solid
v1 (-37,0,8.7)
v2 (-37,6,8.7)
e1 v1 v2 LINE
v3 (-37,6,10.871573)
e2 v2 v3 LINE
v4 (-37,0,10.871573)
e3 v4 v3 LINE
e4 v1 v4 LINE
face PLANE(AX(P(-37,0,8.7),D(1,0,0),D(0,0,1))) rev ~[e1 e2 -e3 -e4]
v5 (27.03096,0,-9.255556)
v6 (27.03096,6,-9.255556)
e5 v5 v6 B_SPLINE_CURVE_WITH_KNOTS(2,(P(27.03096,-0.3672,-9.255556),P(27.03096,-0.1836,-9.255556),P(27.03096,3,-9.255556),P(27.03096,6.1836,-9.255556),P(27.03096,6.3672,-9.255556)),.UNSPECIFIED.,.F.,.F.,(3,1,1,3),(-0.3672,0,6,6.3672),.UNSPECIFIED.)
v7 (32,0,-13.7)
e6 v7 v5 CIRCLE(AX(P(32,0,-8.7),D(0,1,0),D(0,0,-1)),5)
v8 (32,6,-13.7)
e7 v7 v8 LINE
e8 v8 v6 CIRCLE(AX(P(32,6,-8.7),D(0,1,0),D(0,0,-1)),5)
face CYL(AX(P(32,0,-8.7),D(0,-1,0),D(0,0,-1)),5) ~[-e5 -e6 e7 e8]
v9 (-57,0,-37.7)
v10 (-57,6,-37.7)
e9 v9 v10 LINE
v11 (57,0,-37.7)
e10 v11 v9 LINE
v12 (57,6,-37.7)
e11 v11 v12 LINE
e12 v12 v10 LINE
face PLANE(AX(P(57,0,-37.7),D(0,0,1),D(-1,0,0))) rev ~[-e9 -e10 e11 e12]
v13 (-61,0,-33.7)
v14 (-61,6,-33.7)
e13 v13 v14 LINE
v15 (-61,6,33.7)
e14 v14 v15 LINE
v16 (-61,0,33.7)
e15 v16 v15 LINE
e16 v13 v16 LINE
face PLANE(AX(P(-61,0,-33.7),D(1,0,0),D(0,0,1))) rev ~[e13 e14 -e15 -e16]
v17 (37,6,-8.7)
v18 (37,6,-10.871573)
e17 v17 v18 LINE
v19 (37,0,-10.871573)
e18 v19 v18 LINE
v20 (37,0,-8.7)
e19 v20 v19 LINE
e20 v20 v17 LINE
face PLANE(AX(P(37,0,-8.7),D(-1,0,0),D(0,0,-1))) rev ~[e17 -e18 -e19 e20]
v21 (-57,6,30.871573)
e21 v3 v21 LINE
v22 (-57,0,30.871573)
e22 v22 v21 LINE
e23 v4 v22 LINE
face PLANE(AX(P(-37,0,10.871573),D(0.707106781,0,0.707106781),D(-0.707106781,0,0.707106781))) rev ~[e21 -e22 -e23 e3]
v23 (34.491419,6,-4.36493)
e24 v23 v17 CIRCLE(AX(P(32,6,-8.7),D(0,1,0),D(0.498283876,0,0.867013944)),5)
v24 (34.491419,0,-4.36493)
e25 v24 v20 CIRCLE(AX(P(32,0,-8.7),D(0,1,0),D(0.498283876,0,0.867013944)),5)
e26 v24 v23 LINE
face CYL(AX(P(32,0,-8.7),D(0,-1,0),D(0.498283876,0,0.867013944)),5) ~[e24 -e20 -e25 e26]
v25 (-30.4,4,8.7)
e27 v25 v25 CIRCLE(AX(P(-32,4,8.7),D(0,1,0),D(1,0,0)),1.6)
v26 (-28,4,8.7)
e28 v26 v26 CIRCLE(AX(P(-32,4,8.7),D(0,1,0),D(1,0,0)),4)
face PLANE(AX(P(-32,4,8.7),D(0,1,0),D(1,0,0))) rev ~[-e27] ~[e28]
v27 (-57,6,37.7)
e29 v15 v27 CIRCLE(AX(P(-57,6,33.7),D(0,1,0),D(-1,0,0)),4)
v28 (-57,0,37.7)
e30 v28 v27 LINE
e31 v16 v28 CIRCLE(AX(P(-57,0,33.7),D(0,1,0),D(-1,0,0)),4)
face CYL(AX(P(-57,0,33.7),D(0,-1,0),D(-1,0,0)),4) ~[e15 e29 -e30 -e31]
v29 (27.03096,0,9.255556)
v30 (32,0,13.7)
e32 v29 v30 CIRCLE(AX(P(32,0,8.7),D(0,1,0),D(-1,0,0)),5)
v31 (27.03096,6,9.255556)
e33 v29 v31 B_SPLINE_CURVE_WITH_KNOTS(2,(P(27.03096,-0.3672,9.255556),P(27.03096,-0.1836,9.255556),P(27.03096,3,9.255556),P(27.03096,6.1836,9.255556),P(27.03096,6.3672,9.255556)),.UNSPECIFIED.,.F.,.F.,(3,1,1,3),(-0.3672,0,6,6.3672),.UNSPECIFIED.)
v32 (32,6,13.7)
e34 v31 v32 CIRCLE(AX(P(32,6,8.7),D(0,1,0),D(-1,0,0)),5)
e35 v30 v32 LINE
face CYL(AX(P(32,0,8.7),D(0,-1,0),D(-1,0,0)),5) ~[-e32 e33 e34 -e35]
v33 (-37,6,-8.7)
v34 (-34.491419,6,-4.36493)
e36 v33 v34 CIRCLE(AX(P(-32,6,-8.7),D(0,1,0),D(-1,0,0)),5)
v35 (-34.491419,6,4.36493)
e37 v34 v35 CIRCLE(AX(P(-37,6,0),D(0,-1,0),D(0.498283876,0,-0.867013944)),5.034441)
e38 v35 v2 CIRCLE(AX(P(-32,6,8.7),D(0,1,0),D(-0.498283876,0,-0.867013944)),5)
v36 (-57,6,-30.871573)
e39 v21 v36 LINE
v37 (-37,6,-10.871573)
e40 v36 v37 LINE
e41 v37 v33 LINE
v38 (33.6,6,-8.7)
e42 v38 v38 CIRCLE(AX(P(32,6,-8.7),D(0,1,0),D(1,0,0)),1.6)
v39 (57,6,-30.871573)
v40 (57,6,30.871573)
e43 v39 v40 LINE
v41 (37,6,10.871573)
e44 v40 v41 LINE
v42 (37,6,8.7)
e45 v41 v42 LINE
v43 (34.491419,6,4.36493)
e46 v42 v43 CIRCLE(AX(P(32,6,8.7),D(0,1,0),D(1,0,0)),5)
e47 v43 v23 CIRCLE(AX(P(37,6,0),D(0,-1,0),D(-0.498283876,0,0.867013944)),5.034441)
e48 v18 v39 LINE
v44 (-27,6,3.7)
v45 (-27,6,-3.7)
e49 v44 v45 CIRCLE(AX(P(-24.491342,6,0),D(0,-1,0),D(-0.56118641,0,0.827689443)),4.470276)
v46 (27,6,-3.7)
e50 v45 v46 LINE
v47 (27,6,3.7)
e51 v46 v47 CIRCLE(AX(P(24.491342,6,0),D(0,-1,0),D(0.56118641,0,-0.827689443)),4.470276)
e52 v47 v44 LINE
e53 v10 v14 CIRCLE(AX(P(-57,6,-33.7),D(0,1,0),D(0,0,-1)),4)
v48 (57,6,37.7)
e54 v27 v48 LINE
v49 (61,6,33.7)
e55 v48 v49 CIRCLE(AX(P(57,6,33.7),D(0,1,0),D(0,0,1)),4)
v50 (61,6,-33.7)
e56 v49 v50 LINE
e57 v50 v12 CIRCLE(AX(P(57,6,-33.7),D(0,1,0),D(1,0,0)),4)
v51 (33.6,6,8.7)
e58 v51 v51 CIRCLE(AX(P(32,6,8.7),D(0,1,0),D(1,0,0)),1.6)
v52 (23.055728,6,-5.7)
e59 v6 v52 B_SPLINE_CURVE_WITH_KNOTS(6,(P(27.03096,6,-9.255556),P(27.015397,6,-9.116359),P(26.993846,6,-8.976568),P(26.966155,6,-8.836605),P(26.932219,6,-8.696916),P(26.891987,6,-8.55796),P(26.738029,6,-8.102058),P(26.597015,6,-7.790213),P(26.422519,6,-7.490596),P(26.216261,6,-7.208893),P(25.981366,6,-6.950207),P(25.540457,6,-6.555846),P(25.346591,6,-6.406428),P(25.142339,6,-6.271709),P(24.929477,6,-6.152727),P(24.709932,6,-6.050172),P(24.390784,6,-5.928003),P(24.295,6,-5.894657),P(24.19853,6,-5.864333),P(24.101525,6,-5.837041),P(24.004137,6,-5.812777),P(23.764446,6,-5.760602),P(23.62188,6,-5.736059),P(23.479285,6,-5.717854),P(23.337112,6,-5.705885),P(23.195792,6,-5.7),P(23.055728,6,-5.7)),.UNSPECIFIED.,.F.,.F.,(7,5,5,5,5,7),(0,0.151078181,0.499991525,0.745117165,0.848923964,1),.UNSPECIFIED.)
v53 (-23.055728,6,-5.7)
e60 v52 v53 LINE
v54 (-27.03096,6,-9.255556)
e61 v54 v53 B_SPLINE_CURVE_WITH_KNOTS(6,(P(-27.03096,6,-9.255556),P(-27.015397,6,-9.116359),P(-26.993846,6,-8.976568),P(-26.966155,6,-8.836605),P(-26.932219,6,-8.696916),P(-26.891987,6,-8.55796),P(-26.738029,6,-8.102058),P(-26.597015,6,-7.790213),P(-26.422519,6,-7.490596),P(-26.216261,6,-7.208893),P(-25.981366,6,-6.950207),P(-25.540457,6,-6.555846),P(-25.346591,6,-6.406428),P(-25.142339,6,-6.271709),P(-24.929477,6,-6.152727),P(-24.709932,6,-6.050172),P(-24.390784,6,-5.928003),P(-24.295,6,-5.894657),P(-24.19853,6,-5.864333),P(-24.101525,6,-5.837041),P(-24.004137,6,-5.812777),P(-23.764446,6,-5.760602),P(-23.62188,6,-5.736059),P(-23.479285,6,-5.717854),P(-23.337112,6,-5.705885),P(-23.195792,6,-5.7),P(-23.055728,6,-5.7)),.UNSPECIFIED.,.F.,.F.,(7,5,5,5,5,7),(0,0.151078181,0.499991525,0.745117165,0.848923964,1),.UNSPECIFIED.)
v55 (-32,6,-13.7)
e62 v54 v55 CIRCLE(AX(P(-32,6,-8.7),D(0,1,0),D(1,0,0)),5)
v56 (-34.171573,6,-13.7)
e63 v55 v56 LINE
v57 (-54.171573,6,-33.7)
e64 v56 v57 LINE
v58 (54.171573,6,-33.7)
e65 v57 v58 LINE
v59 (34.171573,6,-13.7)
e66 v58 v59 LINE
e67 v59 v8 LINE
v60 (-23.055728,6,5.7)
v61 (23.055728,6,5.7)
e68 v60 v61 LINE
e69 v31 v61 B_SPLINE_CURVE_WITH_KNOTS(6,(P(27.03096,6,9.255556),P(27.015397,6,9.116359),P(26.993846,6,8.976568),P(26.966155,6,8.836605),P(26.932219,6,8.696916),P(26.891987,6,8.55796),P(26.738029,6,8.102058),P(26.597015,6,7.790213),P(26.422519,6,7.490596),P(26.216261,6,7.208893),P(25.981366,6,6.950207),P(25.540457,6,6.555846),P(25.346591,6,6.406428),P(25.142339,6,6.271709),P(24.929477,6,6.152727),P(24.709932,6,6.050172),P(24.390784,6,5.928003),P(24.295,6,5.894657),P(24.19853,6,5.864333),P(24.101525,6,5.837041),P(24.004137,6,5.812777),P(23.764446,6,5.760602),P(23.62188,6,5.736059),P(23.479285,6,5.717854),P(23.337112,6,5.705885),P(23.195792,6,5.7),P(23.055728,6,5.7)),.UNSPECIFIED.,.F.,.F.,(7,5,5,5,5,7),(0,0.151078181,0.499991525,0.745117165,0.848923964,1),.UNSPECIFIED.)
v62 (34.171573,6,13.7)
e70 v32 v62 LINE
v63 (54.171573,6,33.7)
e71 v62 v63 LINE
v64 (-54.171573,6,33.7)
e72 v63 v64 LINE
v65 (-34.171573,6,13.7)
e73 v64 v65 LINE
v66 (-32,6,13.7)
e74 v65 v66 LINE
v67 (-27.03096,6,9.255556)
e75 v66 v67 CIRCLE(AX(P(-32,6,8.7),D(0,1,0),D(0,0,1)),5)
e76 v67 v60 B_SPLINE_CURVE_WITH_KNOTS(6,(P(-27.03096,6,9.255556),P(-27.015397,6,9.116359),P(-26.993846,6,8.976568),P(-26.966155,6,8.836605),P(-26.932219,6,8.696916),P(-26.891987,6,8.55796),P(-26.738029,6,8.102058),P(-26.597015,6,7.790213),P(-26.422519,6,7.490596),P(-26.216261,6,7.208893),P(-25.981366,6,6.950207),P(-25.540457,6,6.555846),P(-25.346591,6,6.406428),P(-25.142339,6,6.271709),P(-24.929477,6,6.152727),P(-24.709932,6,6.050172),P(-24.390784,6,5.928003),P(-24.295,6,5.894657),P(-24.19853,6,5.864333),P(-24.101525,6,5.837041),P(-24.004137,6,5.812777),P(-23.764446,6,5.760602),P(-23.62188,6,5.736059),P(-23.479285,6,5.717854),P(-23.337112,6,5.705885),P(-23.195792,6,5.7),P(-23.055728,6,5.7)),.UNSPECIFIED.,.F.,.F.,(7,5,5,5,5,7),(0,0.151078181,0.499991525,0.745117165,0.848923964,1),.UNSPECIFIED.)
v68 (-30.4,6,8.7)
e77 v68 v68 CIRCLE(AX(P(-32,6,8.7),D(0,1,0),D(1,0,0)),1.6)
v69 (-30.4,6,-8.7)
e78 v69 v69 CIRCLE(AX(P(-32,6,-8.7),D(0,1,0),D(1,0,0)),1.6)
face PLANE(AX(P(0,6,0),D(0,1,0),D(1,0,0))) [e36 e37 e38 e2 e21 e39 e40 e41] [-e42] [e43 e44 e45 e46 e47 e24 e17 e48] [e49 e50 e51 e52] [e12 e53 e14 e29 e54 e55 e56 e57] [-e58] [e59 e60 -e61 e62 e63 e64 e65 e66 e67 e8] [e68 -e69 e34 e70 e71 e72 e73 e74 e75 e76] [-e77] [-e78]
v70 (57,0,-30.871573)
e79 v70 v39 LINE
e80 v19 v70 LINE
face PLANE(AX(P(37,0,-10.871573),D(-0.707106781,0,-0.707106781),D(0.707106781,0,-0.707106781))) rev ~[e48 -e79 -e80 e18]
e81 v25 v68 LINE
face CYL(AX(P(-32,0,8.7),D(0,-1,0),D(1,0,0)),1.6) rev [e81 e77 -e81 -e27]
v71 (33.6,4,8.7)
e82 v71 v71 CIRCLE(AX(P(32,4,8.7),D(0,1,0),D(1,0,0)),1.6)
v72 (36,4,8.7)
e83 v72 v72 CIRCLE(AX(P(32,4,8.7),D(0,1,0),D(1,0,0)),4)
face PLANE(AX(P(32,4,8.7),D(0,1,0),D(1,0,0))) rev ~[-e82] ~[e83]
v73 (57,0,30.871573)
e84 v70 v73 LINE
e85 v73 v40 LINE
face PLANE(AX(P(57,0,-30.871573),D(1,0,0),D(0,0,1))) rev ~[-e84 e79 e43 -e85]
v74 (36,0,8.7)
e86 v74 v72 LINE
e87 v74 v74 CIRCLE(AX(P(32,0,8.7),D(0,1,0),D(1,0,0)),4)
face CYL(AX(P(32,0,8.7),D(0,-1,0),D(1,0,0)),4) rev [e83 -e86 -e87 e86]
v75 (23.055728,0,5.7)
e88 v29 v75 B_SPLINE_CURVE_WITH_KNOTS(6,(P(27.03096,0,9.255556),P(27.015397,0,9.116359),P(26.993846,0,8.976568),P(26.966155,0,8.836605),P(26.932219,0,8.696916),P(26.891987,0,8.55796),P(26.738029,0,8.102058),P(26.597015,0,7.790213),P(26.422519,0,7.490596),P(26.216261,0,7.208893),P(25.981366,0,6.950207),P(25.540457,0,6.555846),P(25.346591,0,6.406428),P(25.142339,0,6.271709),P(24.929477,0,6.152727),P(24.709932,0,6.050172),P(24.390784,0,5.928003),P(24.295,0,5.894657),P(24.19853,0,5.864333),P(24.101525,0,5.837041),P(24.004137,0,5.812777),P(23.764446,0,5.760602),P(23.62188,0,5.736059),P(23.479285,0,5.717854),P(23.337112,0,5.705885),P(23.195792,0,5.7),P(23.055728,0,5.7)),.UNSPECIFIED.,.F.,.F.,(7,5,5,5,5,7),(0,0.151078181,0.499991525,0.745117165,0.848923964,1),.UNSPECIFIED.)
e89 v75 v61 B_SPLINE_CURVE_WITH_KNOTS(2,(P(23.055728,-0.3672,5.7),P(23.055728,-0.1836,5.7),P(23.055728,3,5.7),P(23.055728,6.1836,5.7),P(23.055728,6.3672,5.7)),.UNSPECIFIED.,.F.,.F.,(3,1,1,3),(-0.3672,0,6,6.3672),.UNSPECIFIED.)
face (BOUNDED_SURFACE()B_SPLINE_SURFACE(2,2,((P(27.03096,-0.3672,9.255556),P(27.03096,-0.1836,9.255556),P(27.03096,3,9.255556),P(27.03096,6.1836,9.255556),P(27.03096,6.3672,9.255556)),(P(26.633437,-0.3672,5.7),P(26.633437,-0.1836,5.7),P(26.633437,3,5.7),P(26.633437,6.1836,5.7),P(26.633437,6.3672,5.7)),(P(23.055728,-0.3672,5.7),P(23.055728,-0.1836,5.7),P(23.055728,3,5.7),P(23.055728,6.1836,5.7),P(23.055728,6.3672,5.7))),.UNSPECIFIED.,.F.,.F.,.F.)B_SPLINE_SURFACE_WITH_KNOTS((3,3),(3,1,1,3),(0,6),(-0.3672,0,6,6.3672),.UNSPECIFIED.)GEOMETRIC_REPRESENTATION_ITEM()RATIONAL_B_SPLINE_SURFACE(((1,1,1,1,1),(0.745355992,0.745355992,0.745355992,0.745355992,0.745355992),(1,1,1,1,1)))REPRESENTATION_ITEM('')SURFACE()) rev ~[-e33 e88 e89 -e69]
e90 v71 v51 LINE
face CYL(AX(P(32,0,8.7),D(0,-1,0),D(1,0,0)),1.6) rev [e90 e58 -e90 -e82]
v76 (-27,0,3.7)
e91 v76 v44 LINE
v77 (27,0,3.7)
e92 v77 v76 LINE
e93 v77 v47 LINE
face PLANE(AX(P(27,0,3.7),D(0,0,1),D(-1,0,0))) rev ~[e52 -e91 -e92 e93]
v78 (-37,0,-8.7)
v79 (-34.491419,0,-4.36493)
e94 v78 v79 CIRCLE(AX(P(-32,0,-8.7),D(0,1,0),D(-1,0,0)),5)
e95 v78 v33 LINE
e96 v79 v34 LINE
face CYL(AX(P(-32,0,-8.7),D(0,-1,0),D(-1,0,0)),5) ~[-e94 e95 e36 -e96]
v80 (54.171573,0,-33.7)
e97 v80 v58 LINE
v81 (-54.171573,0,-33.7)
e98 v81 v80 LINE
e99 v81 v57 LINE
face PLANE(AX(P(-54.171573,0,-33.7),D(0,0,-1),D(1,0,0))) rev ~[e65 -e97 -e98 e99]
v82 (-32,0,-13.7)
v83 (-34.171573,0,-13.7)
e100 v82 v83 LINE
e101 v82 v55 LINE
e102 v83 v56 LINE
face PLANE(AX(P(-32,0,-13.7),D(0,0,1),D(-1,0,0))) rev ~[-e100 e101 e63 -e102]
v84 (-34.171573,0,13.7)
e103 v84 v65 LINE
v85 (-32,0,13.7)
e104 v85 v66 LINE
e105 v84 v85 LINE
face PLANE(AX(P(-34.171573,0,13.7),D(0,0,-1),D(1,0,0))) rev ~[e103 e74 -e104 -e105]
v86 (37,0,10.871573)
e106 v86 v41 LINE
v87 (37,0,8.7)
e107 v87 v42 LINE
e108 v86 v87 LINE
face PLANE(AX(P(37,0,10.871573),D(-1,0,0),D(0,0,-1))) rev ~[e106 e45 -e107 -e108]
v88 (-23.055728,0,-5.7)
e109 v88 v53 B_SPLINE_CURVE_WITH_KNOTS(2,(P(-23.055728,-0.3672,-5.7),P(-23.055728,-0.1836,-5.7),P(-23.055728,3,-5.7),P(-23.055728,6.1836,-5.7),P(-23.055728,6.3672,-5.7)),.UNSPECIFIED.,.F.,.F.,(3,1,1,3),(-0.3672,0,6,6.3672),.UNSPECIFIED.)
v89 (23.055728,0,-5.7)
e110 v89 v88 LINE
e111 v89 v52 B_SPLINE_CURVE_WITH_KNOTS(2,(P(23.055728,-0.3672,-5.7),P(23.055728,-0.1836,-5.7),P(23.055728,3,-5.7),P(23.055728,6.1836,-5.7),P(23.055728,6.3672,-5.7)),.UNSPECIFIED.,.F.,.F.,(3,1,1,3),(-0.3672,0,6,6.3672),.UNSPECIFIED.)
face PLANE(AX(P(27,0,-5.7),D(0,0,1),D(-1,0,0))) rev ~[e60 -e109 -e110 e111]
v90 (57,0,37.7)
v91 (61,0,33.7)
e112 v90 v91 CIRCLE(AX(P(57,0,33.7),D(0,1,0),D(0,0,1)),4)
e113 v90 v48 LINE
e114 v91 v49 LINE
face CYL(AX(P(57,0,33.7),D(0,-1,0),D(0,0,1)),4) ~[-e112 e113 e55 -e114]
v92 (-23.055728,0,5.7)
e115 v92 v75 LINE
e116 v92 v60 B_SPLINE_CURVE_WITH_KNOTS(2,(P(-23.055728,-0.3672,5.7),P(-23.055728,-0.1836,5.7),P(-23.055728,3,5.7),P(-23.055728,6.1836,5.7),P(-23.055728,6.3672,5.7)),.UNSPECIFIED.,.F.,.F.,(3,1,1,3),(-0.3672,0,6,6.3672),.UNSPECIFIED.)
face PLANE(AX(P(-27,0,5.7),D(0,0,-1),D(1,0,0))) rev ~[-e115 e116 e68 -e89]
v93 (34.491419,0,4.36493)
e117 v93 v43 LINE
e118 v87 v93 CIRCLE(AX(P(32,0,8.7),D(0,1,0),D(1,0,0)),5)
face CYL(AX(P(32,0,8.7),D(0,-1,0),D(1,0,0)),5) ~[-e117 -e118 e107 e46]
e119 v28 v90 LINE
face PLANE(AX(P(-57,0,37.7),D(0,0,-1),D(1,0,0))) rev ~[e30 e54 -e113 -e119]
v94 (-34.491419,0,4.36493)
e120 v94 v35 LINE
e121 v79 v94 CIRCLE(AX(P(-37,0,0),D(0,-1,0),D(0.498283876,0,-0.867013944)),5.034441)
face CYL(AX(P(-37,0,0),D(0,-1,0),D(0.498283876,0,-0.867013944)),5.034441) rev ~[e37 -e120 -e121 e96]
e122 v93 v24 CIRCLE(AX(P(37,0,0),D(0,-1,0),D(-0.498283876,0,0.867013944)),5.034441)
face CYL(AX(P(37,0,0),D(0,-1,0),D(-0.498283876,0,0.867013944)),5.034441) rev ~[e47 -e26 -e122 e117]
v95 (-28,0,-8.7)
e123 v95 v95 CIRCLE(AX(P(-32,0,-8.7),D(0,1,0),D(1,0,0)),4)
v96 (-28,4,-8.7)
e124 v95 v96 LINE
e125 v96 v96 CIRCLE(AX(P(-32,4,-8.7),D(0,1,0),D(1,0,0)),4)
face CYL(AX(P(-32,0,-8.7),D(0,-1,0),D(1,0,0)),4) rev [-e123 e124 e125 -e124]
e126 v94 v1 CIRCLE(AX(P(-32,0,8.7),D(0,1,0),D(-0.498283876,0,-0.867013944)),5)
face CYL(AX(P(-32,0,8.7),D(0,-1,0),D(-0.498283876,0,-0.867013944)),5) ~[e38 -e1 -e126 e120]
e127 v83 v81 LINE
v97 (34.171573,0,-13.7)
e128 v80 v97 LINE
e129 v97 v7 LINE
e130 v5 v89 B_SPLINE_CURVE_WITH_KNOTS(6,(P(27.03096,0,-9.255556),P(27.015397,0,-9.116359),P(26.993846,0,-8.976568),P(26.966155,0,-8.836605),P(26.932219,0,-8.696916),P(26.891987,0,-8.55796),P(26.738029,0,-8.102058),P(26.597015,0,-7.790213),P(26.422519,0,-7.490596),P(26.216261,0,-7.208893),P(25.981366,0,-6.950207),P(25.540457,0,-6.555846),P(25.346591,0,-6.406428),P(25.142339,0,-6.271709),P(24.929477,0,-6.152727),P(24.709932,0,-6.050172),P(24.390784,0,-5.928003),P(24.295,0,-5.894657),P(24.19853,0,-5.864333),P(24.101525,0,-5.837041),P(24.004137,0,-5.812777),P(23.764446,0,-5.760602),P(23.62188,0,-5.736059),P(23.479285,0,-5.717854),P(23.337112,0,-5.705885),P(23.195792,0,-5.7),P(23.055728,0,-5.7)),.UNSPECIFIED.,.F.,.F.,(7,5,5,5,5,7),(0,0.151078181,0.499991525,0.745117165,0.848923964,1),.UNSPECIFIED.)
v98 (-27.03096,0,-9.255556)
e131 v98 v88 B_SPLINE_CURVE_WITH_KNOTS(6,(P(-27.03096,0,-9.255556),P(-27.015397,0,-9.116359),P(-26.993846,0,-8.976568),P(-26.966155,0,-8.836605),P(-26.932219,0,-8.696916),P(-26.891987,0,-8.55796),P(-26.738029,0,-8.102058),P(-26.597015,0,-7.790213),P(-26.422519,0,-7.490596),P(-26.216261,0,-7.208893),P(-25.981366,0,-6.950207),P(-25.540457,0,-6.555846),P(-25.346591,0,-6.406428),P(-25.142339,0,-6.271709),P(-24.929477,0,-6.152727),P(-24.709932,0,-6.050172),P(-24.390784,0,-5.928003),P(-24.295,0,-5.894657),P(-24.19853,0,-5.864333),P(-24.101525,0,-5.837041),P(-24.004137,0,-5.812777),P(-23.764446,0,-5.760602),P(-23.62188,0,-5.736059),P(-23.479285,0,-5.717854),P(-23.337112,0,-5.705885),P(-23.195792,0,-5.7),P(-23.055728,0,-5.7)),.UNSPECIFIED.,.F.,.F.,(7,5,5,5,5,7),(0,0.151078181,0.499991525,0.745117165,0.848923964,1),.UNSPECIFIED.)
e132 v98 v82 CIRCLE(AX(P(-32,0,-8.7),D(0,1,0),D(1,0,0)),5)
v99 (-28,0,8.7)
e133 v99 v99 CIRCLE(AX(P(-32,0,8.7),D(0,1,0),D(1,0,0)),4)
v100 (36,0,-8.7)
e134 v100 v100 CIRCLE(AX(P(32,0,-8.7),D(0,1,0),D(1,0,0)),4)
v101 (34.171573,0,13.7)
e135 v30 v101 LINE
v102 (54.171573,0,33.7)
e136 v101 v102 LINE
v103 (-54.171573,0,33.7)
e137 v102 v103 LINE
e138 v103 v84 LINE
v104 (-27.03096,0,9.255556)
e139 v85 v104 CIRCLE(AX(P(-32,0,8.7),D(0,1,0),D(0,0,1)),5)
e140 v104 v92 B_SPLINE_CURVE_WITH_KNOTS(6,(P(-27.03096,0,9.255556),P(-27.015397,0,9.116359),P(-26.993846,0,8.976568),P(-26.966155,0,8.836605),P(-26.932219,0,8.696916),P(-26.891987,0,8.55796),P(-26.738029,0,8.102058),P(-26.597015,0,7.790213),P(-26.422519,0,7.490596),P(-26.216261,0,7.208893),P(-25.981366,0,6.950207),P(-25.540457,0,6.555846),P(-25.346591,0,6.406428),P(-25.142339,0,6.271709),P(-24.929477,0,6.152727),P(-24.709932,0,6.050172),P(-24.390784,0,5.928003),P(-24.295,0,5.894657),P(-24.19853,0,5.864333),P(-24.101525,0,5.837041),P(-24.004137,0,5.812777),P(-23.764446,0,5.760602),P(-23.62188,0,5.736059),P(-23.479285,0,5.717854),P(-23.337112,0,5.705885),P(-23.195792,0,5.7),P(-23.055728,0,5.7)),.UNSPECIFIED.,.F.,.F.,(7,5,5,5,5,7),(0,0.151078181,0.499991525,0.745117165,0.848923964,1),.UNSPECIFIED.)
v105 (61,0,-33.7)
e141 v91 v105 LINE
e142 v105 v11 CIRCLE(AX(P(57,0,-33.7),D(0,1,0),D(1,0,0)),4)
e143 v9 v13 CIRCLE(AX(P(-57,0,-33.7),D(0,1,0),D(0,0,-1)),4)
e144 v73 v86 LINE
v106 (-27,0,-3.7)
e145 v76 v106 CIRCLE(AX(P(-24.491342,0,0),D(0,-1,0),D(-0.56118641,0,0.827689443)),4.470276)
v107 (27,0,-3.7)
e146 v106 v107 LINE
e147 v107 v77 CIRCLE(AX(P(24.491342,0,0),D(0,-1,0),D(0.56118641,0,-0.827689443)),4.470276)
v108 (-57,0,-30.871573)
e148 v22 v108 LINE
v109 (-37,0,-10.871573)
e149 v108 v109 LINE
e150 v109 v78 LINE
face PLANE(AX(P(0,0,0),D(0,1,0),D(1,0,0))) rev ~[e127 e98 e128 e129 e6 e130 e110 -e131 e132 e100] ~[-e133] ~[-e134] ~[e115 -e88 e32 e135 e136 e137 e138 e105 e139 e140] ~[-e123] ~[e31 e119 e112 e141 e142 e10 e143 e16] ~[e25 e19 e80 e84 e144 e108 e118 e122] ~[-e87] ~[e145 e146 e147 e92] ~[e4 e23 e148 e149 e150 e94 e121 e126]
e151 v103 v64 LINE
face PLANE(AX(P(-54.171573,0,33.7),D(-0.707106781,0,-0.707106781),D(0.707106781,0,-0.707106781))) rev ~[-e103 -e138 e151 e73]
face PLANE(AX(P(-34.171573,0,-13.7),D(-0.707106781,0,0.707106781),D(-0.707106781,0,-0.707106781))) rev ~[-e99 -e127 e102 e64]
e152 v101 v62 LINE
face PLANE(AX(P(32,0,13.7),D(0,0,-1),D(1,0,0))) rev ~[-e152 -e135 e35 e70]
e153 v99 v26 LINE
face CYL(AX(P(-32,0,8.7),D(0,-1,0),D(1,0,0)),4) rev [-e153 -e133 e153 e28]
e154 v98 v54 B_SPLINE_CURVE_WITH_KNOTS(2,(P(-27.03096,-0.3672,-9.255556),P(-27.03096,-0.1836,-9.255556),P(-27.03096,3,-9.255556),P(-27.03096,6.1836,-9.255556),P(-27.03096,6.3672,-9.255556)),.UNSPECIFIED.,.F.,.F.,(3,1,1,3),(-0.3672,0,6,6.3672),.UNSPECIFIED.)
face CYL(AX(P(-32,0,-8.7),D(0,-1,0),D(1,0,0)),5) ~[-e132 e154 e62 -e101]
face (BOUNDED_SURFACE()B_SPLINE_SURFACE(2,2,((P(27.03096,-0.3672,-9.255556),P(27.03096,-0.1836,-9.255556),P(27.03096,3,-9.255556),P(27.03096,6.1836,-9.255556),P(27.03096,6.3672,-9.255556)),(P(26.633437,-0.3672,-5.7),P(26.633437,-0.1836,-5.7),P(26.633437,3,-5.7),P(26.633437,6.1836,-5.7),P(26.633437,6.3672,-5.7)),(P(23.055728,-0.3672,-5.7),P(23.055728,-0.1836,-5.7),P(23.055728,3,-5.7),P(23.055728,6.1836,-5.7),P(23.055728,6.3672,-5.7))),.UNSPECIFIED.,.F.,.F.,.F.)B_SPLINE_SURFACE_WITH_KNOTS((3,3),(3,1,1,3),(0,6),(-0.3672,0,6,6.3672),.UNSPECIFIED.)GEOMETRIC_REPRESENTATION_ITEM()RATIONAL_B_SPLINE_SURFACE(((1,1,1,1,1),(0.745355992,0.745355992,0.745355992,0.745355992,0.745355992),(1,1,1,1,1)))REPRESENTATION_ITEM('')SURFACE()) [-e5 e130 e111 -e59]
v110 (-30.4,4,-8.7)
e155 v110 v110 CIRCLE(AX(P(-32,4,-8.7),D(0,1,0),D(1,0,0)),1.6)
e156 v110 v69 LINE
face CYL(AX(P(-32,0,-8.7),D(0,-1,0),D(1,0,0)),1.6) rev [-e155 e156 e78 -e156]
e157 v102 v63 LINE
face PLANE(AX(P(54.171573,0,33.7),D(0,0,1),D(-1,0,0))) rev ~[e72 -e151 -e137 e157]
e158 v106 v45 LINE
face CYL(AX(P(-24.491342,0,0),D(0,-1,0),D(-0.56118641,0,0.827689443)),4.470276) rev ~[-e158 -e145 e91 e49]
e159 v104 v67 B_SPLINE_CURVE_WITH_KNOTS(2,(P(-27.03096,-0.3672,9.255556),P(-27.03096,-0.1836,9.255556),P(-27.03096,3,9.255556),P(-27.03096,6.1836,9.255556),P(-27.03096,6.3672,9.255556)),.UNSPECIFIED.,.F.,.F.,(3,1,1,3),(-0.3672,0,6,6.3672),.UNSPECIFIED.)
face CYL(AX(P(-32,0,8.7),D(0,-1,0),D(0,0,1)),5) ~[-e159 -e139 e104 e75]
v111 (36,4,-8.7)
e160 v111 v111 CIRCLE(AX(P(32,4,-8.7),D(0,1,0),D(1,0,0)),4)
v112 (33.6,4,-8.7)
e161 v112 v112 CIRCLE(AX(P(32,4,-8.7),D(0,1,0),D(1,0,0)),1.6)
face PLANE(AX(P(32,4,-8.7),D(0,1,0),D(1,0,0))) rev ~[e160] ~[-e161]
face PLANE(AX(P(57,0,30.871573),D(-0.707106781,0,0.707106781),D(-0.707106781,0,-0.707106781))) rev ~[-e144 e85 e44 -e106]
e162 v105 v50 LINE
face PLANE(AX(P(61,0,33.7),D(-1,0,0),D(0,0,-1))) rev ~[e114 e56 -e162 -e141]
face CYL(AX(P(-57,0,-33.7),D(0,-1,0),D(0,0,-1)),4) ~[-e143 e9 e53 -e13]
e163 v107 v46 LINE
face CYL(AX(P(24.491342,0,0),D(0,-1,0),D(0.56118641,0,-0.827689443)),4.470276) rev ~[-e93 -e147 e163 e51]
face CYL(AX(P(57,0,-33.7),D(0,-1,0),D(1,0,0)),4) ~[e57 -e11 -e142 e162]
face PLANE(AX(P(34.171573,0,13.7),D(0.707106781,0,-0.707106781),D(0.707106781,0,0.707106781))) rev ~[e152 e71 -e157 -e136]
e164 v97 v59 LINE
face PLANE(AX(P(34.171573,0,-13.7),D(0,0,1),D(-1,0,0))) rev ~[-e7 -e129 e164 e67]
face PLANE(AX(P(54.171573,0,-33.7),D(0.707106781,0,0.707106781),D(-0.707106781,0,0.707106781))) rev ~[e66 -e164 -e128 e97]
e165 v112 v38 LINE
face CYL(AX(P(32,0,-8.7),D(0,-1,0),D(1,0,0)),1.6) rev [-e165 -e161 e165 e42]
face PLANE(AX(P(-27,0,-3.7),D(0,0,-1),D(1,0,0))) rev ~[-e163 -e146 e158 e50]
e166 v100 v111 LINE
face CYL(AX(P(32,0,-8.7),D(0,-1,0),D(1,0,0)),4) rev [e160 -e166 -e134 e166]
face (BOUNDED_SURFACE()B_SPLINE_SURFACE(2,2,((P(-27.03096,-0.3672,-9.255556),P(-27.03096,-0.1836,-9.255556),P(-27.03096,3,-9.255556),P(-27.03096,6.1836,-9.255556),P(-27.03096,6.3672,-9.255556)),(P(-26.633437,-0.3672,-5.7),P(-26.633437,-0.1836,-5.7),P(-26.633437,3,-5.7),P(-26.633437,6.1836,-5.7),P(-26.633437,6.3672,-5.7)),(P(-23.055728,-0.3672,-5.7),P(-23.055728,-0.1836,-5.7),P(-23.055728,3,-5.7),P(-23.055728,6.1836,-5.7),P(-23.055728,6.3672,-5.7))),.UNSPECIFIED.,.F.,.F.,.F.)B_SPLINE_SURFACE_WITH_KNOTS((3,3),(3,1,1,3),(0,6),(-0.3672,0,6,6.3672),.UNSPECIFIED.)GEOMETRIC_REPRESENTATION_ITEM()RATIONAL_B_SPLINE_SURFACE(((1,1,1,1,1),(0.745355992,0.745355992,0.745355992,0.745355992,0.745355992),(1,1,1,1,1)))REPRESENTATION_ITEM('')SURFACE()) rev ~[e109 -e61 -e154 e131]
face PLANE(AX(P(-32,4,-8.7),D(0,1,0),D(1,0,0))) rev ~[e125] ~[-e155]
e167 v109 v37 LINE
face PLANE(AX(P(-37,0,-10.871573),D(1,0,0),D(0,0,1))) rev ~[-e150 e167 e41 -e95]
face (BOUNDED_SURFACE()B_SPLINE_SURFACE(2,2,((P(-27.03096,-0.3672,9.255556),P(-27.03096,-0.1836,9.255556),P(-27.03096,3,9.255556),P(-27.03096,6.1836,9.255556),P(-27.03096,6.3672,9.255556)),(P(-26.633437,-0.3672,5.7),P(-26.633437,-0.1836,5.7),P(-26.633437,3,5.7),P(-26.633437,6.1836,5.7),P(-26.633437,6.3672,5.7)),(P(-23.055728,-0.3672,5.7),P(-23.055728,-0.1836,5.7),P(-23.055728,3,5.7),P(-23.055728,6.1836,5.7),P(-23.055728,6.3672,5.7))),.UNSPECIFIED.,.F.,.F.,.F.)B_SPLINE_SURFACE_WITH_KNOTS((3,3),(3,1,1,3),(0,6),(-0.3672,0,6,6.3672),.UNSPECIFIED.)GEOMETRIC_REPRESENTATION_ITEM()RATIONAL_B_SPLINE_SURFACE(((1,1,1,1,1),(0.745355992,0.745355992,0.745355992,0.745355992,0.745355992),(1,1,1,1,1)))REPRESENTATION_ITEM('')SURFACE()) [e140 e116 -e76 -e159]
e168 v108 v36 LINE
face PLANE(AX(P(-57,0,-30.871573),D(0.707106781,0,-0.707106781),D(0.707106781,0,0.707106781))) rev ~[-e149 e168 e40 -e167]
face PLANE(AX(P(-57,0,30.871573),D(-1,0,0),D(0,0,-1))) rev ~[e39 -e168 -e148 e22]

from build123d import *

# Parameters (mm, degrees)
CROQUIS1_R              = 1.6
SALIENTE_EXTRUIR1_DEPTH = 6
CROQUIS1_3_R            = 4
CROQUIS1_3_R_2          = 1.6
CORTAR_EXTRUIR1_DEPTH   = 4
REDONDEO1_R             = 4


with BuildPart() as part:
    # Croquis1 → Saliente-Extruir1 (new body)
    with BuildSketch(Plane(origin=(0, 0, 0), x_dir=(1, 0, 0), z_dir=(0, 1, 0))):
        with BuildLine():
            Line((57, 37.7), (-57, 37.7))
            ThreePointArc((-57, 37.7), (-59.828427125, 36.528427125), (-61, 33.7))
            Line((-61, 33.7), (-61, -33.7))
            ThreePointArc((-61, -33.7), (-59.828427125, -36.528427125), (-57, -37.7))
            Line((-57, -37.7), (57, -37.7))
            ThreePointArc((57, -37.7), (59.828427125, -36.528427125), (61, -33.7))
            Line((61, -33.7), (61, 33.7))
            ThreePointArc((61, 33.7), (59.828427125, 36.528427125), (57, 37.7))
        make_face()
        with BuildLine():
            Line((-57, 30.871572875), (-37, 10.871572875))
            Line((-37, 10.871572875), (-37, 8.7))
            ThreePointArc((-37, 8.7), (-36.327649298, 6.195713365), (-34.491419379, 4.36493028))
            ThreePointArc((-34.491419379, 4.36493028), (-31.965559308, 0), (-34.491419379, -4.36493028))
            ThreePointArc((-34.491419379, -4.36493028), (-36.327649298, -6.195713365), (-37, -8.7))
            Line((-37, -8.7), (-37, -10.871572875))
            Line((-37, -10.871572875), (-57, -30.871572875))
            Line((-57, -30.871572875), (-57, 30.871572875))
        make_face(mode=Mode.SUBTRACT)
        with BuildLine():
            Line((-34.171572875, 13.7), (-54.171572875, 33.7))
            Line((-54.171572875, 33.7), (54.171572875, 33.7))
            Line((54.171572875, 33.7), (34.171572875, 13.7))
            Line((34.171572875, 13.7), (32, 13.7))
            ThreePointArc((32, 13.7), (28.464466094, 12.235533906), (27, 8.7))
            Line((27, 8.7), (27, 5.7))
            Line((27, 5.7), (-27, 5.7))
            Line((-27, 5.7), (-27, 8.7))
            ThreePointArc((-27, 8.7), (-28.464466094, 12.235533906), (-32, 13.7))
            Line((-32, 13.7), (-34.171572875, 13.7))
        make_face(mode=Mode.SUBTRACT)
        with BuildLine():
            Line((-27, 3.7), (27, 3.7))
            ThreePointArc((27, 3.7), (28.961617728, 0), (27, -3.7))
            Line((27, -3.7), (-27, -3.7))
            ThreePointArc((-27, -3.7), (-28.961617728, 0), (-27, 3.7))
        make_face(mode=Mode.SUBTRACT)
        with BuildLine():
            Line((37, 8.7), (37, 10.871572875))
            Line((37, 10.871572875), (57, 30.871572875))
            Line((57, 30.871572875), (57, -30.871572875))
            Line((57, -30.871572875), (37, -10.871572875))
            Line((37, -10.871572875), (37, -8.7))
            ThreePointArc((37, -8.7), (36.327649298, -6.195713365), (34.491419379, -4.36493028))
            ThreePointArc((34.491419379, -4.36493028), (31.965559308, 0), (34.491419379, 4.36493028))
            ThreePointArc((34.491419379, 4.36493028), (36.327649298, 6.195713365), (37, 8.7))
        make_face(mode=Mode.SUBTRACT)
        with BuildLine():
            Line((32, -13.7), (34.171572875, -13.7))
            Line((34.171572875, -13.7), (54.171572875, -33.7))
            Line((54.171572875, -33.7), (-54.171572875, -33.7))
            Line((-54.171572875, -33.7), (-34.171572875, -13.7))
            Line((-34.171572875, -13.7), (-32, -13.7))
            ThreePointArc((-32, -13.7), (-28.464466094, -12.235533906), (-27, -8.7))
            Line((-27, -8.7), (-27, -5.7))
            Line((-27, -5.7), (27, -5.7))
            Line((27, -5.7), (27, -8.7))
            ThreePointArc((27, -8.7), (28.464466094, -12.235533906), (32, -13.7))
        make_face(mode=Mode.SUBTRACT)
        with Locations((32, 8.7)):
            Circle(CROQUIS1_R, mode=Mode.SUBTRACT)
        with Locations((-32, -8.7)):
            Circle(CROQUIS1_R, mode=Mode.SUBTRACT)
        with Locations((32, -8.7)):
            Circle(CROQUIS1_R, mode=Mode.SUBTRACT)
        with Locations((-32, 8.7)):
            Circle(CROQUIS1_R, mode=Mode.SUBTRACT)
    extrude(amount=SALIENTE_EXTRUIR1_DEPTH)

    # Croquis1<3> → Cortar-Extruir1 (cut)
    # profile 1 of 4: a face of its own
    with BuildSketch(Plane(origin=(0, 0, 0), x_dir=(1, 0, 0), z_dir=(0, 1, 0))):
        with Locations((-32, 8.7)):
            Circle(CROQUIS1_3_R)
        with Locations((-32, 8.7)):
            Circle(CROQUIS1_3_R_2, mode=Mode.SUBTRACT)
    # profile 2 of 4: a face of its own
    with BuildSketch(Plane(origin=(0, 0, 0), x_dir=(1, 0, 0), z_dir=(0, 1, 0))):
        with Locations((32, 8.7)):
            Circle(CROQUIS1_3_R)
        with Locations((32, 8.7)):
            Circle(CROQUIS1_3_R_2, mode=Mode.SUBTRACT)
    # profile 3 of 4: a face of its own
    with BuildSketch(Plane(origin=(0, 0, 0), x_dir=(1, 0, 0), z_dir=(0, 1, 0))):
        with Locations((32, -8.7)):
            Circle(CROQUIS1_3_R)
        with Locations((32, -8.7)):
            Circle(CROQUIS1_3_R_2, mode=Mode.SUBTRACT)
    # profile 4 of 4: a face of its own
    with BuildSketch(Plane(origin=(0, 0, 0), x_dir=(1, 0, 0), z_dir=(0, 1, 0))):
        with Locations((-32, -8.7)):
            Circle(CROQUIS1_3_R)
        with Locations((-32, -8.7)):
            Circle(CROQUIS1_3_R_2, mode=Mode.SUBTRACT)
    extrude(amount=CORTAR_EXTRUIR1_DEPTH, mode=Mode.SUBTRACT)

    # Redondeo1
    redondeo1_edges = [part.edges().sort_by_distance(p)[0] for p in [
        (27, 3, -5.7),
        (27, 3, 5.7),
        (-27, 3, -5.7),
        (-27, 3, 5.7),
    ]]
    fillet(redondeo1_edges, radius=REDONDEO1_R)


solid = part.part
